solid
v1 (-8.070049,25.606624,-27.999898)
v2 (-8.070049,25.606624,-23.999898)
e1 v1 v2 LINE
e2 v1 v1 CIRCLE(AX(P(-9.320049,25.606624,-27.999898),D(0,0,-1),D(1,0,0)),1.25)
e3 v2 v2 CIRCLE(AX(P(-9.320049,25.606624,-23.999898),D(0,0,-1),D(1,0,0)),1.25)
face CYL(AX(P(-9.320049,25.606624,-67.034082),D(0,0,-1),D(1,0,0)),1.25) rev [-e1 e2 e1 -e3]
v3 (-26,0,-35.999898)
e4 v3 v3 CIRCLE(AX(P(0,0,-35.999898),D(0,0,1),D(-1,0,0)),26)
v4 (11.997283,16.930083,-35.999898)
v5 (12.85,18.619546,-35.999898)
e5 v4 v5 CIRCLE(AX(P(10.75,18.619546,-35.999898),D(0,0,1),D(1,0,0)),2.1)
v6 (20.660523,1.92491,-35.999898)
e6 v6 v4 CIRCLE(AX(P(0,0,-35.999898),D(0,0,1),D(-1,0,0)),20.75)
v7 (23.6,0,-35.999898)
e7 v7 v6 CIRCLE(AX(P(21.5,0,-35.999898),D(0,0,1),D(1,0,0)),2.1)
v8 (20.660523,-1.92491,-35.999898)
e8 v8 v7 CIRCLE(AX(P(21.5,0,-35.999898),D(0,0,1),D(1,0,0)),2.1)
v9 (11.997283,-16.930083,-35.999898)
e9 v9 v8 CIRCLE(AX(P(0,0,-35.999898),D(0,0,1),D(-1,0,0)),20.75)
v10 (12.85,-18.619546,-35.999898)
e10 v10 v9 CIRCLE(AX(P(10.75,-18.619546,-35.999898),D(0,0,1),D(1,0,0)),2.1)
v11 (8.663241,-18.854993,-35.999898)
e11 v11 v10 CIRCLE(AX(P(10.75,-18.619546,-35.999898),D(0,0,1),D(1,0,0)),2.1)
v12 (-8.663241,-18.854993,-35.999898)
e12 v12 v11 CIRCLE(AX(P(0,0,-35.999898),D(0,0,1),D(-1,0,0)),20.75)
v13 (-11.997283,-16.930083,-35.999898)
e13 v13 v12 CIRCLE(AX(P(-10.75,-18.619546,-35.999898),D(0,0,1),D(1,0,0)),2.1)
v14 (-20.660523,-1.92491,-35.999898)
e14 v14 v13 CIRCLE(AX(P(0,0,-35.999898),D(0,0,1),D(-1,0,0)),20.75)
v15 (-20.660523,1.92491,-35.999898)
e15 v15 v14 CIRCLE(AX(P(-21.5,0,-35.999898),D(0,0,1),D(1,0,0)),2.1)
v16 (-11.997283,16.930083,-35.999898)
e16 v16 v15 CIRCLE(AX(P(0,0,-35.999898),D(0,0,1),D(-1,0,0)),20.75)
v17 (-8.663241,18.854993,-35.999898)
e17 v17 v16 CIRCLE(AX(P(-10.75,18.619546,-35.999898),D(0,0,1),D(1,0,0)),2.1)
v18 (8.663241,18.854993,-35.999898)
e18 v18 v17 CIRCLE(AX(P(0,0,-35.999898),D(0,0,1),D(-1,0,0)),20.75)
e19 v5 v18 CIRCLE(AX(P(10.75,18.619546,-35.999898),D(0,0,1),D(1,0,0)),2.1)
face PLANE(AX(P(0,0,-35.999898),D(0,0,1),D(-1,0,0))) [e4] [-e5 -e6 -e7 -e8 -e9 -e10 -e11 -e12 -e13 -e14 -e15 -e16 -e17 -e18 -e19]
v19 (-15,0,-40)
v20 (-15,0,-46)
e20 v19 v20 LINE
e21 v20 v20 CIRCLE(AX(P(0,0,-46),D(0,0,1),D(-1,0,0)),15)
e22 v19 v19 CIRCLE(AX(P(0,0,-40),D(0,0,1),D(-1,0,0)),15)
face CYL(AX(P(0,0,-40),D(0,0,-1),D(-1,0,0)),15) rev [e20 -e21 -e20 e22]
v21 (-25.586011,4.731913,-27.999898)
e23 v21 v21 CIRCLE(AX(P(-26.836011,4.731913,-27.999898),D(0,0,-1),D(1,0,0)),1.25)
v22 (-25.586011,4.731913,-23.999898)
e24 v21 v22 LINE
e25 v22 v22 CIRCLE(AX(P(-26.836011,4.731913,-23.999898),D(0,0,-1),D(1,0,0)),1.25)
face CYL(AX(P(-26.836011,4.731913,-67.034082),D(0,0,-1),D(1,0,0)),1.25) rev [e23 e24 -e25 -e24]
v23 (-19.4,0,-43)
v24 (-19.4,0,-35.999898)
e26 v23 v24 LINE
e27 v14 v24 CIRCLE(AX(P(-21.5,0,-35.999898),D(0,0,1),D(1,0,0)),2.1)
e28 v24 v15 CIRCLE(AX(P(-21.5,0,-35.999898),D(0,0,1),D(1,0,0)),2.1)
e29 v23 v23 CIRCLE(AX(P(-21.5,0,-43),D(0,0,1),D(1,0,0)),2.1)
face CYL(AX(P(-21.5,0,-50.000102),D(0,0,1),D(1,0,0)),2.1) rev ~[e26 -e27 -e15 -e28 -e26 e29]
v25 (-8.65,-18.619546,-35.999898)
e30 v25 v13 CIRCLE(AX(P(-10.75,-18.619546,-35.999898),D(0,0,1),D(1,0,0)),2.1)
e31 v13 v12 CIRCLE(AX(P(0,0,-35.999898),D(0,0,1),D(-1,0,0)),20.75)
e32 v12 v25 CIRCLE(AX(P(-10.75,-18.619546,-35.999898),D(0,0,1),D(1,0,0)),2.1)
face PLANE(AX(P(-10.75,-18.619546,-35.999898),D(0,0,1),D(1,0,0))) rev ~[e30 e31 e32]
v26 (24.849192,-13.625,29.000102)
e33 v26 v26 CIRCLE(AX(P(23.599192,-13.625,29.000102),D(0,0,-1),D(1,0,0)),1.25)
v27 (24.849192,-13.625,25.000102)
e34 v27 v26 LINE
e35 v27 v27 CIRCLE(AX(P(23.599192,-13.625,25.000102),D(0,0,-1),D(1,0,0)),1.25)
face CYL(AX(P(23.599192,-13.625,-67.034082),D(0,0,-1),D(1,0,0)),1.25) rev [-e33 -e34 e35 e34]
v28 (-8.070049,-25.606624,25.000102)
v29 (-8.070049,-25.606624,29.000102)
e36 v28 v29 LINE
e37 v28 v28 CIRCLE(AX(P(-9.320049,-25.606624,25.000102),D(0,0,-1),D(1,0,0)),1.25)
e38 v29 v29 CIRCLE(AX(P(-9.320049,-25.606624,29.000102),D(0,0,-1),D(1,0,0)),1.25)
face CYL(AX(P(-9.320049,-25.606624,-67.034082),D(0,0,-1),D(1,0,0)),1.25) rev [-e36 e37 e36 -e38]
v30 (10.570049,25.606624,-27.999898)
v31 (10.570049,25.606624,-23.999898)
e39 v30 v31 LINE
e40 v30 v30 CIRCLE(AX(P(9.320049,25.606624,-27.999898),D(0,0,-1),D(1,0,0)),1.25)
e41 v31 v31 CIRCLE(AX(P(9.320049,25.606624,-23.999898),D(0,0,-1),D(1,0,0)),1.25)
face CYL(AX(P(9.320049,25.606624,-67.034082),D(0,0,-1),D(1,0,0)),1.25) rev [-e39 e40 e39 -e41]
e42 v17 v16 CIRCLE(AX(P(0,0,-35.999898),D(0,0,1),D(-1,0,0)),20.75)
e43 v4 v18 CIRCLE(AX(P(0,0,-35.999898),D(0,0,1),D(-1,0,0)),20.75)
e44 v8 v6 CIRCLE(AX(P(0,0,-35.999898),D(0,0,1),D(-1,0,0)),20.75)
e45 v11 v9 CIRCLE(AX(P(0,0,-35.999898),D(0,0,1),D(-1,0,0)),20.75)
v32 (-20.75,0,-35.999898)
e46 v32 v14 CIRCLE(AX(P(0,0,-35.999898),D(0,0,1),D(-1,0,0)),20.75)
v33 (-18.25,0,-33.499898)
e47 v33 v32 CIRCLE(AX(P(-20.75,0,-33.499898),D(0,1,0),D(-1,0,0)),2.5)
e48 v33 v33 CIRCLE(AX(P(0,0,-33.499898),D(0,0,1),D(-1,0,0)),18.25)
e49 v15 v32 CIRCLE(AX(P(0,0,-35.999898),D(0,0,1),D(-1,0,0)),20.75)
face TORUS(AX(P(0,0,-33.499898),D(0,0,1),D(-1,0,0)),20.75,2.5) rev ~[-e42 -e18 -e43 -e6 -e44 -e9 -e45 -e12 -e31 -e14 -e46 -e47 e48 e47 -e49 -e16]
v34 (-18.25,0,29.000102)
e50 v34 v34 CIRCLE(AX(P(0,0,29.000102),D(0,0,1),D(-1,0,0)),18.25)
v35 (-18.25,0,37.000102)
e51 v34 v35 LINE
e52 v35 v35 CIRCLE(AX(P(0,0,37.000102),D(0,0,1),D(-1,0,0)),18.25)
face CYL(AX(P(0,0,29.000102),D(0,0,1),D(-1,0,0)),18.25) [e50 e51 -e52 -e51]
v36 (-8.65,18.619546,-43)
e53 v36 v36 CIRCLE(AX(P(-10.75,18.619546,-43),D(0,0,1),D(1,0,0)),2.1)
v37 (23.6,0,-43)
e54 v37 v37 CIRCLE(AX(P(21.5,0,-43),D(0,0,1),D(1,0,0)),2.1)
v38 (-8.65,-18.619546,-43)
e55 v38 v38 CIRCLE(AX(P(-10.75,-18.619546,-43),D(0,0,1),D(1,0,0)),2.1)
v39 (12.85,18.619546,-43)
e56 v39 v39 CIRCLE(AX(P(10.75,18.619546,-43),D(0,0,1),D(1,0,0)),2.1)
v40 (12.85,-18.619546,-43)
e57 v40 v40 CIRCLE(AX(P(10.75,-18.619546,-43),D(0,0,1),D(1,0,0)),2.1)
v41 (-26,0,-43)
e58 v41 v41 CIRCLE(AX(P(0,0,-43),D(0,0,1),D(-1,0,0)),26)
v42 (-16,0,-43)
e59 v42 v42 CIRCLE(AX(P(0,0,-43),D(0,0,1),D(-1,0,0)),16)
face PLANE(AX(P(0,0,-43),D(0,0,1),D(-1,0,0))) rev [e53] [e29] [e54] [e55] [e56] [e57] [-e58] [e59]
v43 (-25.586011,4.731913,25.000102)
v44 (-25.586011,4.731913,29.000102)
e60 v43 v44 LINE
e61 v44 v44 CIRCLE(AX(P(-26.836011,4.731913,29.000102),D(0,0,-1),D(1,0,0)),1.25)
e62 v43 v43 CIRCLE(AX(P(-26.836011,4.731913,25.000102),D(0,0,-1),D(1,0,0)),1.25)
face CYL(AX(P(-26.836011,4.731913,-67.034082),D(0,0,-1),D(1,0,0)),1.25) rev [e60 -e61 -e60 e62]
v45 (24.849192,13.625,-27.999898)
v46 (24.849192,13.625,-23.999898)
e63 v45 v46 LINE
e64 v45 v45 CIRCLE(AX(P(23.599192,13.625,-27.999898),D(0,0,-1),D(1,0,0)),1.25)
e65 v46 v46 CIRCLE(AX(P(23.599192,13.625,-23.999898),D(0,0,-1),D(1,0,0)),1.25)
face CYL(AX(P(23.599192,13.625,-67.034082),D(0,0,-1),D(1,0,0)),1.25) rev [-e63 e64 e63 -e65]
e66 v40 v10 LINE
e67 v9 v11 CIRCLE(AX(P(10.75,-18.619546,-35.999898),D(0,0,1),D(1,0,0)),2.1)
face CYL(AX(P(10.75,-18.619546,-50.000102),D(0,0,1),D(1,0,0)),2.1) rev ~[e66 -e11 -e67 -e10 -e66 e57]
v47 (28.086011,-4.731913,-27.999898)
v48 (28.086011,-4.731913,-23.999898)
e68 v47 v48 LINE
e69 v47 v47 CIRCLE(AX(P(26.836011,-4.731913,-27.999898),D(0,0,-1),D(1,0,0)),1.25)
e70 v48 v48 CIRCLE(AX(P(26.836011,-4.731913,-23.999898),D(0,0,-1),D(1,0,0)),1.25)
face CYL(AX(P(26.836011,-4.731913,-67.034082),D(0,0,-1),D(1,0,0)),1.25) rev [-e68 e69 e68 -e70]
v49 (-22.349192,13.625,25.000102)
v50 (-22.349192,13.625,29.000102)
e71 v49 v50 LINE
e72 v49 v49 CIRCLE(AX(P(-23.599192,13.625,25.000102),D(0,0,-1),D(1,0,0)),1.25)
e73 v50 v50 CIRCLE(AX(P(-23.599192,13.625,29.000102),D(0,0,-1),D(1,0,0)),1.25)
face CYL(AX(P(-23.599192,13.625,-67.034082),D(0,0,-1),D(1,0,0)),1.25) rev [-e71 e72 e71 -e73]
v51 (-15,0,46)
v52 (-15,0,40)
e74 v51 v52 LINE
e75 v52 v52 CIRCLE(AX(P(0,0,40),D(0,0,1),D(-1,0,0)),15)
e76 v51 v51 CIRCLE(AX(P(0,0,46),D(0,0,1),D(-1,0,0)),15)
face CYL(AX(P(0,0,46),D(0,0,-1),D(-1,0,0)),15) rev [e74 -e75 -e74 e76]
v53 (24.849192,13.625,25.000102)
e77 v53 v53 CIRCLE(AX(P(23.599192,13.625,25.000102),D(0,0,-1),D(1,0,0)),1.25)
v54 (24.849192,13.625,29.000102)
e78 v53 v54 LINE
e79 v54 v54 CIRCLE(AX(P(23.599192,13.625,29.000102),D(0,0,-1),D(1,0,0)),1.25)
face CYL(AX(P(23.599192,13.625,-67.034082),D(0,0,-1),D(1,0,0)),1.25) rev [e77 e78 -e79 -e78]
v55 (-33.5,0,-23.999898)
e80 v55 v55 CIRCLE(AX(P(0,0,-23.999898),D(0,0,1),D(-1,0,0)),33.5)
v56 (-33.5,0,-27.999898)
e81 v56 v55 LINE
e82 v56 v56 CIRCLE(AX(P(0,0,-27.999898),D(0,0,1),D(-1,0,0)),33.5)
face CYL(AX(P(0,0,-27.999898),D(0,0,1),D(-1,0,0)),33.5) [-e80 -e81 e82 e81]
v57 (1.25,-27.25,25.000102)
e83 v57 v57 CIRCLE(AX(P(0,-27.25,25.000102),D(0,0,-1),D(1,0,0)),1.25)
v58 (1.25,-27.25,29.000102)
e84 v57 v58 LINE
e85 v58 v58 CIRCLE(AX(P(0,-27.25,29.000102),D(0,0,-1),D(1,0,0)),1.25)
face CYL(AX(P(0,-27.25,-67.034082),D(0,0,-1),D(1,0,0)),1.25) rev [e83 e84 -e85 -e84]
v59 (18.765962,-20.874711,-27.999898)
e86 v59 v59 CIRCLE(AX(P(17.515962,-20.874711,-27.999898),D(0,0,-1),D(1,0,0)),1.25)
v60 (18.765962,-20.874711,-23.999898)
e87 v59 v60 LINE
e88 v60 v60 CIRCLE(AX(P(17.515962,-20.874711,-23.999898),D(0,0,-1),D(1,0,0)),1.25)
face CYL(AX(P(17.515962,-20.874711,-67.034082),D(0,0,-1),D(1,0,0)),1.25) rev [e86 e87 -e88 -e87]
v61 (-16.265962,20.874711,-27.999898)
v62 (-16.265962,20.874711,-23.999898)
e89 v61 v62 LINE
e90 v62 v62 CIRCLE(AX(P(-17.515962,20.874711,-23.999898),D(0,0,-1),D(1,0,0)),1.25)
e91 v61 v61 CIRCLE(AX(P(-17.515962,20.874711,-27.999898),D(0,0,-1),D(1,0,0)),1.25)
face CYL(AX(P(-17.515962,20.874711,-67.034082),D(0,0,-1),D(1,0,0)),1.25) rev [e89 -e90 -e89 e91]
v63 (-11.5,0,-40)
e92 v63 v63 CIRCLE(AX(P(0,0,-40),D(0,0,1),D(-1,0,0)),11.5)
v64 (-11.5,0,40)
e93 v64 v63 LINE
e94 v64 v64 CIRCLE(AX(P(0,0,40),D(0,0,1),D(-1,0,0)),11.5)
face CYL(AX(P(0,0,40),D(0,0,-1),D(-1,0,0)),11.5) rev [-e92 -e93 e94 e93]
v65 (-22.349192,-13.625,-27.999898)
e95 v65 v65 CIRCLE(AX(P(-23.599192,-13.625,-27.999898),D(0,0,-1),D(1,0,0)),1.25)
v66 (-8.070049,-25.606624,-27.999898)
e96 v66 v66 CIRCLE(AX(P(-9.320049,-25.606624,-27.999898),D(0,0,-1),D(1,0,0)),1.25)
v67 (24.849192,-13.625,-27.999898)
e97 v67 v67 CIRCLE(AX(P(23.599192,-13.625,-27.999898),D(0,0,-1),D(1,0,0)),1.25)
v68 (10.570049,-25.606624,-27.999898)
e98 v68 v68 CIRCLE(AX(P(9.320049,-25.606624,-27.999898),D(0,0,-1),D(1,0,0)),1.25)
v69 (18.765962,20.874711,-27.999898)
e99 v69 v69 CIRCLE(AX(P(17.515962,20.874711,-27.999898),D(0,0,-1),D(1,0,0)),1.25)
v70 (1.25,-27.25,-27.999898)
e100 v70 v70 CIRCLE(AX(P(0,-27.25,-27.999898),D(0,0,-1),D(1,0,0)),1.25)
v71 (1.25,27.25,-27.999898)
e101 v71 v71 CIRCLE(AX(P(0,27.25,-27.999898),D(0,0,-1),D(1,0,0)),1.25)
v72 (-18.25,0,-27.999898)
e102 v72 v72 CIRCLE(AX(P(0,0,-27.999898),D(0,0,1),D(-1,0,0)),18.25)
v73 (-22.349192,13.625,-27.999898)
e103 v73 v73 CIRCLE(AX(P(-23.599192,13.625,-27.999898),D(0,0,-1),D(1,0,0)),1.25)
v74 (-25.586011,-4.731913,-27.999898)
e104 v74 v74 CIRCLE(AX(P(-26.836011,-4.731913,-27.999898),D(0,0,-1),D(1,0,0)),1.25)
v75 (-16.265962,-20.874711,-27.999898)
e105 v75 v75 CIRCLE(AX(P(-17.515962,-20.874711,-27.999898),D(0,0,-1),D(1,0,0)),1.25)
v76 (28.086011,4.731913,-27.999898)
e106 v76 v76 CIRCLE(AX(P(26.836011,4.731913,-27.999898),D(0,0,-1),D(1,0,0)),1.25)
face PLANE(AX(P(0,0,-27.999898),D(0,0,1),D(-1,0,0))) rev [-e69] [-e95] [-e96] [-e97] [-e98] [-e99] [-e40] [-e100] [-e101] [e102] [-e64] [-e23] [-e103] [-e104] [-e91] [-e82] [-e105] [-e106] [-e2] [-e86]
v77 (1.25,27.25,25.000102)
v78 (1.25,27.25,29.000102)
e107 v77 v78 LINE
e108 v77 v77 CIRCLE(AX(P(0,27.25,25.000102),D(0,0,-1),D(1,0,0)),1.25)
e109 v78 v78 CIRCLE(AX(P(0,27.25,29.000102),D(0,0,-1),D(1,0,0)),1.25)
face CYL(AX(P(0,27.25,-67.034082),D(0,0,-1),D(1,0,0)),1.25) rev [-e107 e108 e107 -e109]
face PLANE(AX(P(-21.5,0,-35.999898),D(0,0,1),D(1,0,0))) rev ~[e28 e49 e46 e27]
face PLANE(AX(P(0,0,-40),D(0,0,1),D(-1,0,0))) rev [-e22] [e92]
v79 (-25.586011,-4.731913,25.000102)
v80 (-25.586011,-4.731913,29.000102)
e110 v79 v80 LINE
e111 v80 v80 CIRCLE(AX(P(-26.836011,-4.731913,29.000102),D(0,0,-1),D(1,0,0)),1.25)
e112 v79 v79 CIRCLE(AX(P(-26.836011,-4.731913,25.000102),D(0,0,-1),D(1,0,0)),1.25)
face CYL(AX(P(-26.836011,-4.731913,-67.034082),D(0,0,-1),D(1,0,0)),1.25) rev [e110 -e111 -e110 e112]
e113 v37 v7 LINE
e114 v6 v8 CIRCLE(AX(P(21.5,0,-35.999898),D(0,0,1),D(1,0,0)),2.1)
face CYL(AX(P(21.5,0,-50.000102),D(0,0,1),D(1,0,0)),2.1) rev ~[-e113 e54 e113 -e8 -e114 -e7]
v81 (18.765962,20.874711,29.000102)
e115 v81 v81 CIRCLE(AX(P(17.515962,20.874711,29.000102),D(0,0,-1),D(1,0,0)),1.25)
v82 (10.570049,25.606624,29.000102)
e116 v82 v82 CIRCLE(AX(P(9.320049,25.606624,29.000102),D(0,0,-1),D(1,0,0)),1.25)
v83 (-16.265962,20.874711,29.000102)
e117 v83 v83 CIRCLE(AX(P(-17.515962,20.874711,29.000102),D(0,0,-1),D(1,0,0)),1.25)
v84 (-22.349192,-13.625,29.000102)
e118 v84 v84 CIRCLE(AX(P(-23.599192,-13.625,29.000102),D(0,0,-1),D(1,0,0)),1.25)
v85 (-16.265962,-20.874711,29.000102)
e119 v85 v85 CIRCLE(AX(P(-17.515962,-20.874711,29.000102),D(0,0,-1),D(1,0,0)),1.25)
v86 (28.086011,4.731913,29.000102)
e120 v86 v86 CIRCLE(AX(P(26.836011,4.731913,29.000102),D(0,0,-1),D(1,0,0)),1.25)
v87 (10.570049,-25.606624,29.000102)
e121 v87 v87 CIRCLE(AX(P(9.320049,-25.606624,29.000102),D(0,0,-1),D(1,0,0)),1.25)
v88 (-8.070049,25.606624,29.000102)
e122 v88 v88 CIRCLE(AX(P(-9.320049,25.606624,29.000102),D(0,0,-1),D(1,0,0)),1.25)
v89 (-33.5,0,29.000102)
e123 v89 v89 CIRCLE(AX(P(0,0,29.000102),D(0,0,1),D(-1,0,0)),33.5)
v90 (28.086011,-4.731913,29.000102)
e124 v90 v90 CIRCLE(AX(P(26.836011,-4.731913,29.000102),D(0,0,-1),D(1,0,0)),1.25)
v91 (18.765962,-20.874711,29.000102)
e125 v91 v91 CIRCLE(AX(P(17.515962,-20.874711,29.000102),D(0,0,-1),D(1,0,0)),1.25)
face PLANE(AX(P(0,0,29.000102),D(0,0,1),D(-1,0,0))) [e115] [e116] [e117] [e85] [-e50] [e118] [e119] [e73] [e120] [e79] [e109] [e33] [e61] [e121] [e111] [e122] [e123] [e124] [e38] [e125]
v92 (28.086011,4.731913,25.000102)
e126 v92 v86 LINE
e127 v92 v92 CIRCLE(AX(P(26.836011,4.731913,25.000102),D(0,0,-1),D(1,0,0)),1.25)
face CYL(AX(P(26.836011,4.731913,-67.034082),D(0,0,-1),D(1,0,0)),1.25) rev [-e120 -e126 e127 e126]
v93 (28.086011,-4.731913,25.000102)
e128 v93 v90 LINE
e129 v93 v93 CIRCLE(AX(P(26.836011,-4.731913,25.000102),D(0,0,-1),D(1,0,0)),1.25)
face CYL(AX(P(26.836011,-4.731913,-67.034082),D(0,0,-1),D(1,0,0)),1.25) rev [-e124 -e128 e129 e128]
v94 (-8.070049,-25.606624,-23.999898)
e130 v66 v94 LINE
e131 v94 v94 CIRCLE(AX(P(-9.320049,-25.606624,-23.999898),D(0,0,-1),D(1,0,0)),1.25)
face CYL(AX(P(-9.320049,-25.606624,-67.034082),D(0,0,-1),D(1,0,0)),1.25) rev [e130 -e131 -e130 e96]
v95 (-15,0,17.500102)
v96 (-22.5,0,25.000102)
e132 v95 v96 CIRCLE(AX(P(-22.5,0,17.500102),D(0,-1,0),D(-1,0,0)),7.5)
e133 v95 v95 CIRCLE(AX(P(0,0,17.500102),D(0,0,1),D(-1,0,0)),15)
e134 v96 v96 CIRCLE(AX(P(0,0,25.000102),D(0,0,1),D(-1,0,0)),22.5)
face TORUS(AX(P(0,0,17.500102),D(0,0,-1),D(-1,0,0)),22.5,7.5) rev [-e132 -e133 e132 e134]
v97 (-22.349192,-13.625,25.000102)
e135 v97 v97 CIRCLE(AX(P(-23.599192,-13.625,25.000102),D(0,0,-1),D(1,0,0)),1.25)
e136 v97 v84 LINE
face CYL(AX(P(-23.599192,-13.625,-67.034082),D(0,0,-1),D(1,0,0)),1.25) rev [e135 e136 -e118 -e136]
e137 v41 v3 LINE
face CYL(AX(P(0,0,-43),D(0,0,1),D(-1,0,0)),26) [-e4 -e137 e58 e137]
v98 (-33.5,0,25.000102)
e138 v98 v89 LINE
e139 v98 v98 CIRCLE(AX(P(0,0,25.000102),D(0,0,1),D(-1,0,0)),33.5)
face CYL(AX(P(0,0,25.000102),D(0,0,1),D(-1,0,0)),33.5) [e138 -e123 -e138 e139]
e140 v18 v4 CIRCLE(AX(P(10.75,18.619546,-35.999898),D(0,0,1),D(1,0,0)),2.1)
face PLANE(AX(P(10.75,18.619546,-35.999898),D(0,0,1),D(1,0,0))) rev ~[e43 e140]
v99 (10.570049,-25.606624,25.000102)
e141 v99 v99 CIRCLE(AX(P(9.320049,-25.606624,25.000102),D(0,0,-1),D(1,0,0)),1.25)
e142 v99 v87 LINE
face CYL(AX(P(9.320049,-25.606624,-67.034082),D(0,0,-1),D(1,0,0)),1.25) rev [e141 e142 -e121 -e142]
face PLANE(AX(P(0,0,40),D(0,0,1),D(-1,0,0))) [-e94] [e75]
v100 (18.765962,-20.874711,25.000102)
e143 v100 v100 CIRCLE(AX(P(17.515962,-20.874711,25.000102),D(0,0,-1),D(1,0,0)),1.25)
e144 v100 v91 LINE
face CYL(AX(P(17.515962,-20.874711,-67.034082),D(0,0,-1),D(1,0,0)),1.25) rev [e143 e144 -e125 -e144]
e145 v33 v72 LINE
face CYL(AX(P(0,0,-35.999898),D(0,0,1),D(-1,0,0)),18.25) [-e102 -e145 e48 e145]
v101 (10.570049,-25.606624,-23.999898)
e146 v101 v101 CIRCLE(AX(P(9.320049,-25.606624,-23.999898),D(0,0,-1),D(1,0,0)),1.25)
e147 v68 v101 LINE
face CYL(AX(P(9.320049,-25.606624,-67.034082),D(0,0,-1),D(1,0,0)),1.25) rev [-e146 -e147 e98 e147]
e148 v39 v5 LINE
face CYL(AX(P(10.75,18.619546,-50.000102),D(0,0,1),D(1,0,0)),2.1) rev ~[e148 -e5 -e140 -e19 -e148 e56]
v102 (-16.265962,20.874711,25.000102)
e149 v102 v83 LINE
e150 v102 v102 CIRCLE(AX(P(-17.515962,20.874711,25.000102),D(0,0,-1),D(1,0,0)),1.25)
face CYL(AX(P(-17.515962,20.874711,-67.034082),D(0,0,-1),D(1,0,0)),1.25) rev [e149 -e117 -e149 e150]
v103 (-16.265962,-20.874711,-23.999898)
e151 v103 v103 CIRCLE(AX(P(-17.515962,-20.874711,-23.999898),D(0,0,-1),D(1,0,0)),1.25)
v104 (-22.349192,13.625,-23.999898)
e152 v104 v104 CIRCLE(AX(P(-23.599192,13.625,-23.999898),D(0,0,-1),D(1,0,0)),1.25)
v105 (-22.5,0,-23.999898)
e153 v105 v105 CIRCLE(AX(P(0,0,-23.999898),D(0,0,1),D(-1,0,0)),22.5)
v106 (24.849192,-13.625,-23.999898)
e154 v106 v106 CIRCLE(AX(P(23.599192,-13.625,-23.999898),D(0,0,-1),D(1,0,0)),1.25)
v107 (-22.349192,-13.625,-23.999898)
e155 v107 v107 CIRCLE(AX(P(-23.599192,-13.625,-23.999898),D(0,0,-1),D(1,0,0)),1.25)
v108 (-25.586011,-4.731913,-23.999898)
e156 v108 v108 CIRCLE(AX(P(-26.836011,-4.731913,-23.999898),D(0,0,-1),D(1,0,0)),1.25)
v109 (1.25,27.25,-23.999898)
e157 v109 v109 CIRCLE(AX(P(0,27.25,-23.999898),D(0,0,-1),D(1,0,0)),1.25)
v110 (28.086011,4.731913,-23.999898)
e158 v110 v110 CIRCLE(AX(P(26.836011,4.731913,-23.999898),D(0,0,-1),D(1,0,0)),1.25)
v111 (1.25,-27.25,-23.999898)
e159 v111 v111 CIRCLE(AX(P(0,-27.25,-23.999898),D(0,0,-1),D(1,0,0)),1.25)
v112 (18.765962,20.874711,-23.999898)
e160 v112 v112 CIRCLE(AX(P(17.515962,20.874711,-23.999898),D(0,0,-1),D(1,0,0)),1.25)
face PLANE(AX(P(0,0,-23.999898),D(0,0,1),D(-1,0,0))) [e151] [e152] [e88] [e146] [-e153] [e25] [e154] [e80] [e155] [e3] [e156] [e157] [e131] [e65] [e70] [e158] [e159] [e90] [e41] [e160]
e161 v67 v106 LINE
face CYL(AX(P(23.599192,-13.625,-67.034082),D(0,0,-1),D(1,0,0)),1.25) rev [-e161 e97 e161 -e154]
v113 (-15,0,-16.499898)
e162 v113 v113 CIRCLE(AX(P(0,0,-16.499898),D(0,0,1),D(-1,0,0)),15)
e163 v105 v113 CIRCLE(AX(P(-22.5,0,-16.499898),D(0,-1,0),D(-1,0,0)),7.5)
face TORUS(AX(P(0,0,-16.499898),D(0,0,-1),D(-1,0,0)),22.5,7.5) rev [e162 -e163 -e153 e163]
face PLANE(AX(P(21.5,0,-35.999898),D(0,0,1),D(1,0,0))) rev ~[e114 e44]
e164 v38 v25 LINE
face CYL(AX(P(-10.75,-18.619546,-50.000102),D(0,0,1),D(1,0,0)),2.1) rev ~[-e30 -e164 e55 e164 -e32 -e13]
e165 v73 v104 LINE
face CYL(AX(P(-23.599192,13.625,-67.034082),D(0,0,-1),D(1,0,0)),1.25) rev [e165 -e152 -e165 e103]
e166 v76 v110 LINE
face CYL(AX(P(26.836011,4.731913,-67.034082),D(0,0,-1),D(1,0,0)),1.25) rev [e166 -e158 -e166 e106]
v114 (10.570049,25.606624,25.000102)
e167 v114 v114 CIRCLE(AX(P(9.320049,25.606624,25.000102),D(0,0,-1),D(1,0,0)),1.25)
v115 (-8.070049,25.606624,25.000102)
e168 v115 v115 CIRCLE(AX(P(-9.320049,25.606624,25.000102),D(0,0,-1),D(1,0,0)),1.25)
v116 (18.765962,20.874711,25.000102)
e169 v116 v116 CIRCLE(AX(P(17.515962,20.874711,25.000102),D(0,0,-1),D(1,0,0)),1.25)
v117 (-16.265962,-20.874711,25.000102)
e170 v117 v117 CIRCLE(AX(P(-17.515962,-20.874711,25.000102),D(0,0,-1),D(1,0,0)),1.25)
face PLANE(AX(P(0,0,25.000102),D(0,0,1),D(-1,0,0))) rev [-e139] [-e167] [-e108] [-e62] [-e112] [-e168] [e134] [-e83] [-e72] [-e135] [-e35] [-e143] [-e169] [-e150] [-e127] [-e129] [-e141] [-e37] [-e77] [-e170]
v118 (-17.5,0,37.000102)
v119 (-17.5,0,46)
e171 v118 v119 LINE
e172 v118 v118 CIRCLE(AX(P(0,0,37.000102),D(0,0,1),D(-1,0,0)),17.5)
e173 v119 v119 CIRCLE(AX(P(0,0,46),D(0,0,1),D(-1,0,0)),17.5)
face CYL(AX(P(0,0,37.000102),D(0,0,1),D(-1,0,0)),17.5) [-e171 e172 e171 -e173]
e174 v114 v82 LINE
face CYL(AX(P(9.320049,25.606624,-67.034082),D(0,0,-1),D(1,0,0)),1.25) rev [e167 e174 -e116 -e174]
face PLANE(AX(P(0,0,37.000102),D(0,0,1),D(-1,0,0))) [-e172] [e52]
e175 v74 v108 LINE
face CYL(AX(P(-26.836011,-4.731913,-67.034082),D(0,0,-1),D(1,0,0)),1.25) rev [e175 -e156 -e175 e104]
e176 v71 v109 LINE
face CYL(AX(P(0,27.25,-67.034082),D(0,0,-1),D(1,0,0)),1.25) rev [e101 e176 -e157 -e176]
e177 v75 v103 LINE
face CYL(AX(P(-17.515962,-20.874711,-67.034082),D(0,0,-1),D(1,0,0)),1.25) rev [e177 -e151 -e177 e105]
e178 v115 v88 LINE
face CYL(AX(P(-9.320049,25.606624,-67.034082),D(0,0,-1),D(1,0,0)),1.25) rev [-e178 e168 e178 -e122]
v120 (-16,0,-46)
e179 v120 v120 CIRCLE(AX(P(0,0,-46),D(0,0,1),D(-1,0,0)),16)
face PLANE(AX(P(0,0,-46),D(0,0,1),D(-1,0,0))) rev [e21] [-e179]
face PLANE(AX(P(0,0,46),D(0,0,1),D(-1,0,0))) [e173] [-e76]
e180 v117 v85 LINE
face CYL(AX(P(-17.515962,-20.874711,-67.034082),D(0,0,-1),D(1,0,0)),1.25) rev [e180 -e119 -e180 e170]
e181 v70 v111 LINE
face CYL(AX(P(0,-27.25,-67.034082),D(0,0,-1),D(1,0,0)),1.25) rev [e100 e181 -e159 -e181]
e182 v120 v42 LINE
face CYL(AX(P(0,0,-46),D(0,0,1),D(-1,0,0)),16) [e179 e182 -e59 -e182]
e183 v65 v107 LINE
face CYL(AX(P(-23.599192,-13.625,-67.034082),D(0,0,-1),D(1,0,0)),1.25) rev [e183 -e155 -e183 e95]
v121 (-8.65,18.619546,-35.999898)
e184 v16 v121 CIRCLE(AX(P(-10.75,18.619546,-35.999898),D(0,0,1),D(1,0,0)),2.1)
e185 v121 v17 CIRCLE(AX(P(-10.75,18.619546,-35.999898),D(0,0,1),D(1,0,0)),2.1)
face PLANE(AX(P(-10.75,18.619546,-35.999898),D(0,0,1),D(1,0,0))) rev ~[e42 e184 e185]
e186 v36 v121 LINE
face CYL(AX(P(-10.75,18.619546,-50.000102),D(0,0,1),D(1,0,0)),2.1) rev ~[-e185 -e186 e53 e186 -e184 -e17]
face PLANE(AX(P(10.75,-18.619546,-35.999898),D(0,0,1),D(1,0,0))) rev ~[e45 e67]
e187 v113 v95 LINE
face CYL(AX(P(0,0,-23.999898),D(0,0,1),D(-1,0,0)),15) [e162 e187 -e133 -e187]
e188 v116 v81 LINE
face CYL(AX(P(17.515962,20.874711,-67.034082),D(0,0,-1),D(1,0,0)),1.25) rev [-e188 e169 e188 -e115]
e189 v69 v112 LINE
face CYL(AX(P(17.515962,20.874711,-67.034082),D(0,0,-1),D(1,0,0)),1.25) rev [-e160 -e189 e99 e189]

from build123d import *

# Parameters (mm, degrees)
FILLET1_R                 = 7.5
FILLET2_R                 = 2.5
CUT_EXTRUDE1_DEPTH        = 67.034082109
CUT_EXTRUDE1_DEPTH_BACK   = 67.034082109
SKETCH3_R                 = 1.25
M5X0_8_TAPPED_HOLE1_D     = 4.2
M5X0_8_TAPPED_HOLE1_DEPTH = 7.000101775


with BuildPart() as part:
    # Sketch2 → Revolve1 (revolve)
    with BuildSketch(Plane(origin=(0, 0, 0), x_dir=(1, 0, 0), z_dir=(0, 1, 0)), mode=Mode.PRIVATE) as revolve1_sk:
        Polygon((15, 46), (16, 46), (16, 43), (26, 43), (26, 35.999898225), (18.25, 35.999898225), (18.25, 27.999898225), (33.5, 27.999898225), (33.5, 23.999898225), (15, 23.999898225), (15, -25.000101775), (33.5, -25.000101775), (33.5, -29.000101775), (18.25, -29.000101775), (18.25, -37.000101775), (17.5, -37.000101775), (17.5, -46), (15, -46), (15, -40), (11.5, -40), (11.5, 40), (15, 40), align=None)
    revolve(revolve1_sk.sketch.rotate(Axis((0, 0, -29.097498156), (0, 0, 1)), 180), axis=Axis((0, 0, -29.097498156), (0, 0, 1)))

    # Fillet1
    fillet1_edges = [part.edges().sort_by_distance(p)[0] for p in [
        (15, 0, 25.000101775),
        (15, 0, -23.999898225),
    ]]
    fillet(fillet1_edges, radius=FILLET1_R)

    # Fillet2
    fillet2_edges = [part.edges().sort_by_distance(p)[0] for p in [
        (18.25, 0, -35.999898225),
    ]]
    fillet(fillet2_edges, radius=FILLET2_R)

    # Sketch3 → Cut-Extrude1 (cut, two sides: drawn at the far end of the back side and taken through both)
    with BuildSketch(Plane.XY.offset(-CUT_EXTRUDE1_DEPTH_BACK)):
        with Locations((0, 27.25)):
            Circle(SKETCH3_R)
        with Locations((9.320048906, 25.606623916)):
            Circle(SKETCH3_R)
        with Locations((17.515962364, 20.874711075)):
            Circle(SKETCH3_R)
        with Locations((23.599192253, 13.625)):
            Circle(SKETCH3_R)
        with Locations((26.83601127, 4.731912841)):
            Circle(SKETCH3_R)
        with Locations((26.83601127, -4.731912841)):
            Circle(SKETCH3_R)
        with Locations((23.599192253, -13.625)):
            Circle(SKETCH3_R)
        with Locations((17.515962364, -20.874711075)):
            Circle(SKETCH3_R)
        with Locations((9.320048906, -25.606623916)):
            Circle(SKETCH3_R)
        with Locations((0, -27.25)):
            Circle(SKETCH3_R)
        with Locations((-9.320048906, -25.606623916)):
            Circle(SKETCH3_R)
        with Locations((-17.515962364, -20.874711075)):
            Circle(SKETCH3_R)
        with Locations((-23.599192253, -13.625)):
            Circle(SKETCH3_R)
        with Locations((-26.83601127, -4.731912841)):
            Circle(SKETCH3_R)
        with Locations((-26.83601127, 4.731912841)):
            Circle(SKETCH3_R)
        with Locations((-23.599192253, 13.625)):
            Circle(SKETCH3_R)
        with Locations((-17.515962364, 20.874711075)):
            Circle(SKETCH3_R)
        with Locations((-9.320048906, 25.606623916)):
            Circle(SKETCH3_R)
    extrude(amount=CUT_EXTRUDE1_DEPTH + CUT_EXTRUDE1_DEPTH_BACK, mode=Mode.SUBTRACT)

    # M5x0.8 Tapped Hole1
    with Locations(Plane(origin=(0, 0, -43), x_dir=(-1, 0, 0), z_dir=(0, 0, -1))):
        with Locations((-10.75, 18.619546181), (10.75, 18.619546181), (21.5, 0), (10.75, -18.619546181), (-10.75, -18.619546181), (-21.5, 0)):
            Hole(M5X0_8_TAPPED_HOLE1_D / 2, depth=M5X0_8_TAPPED_HOLE1_DEPTH)


solid = part.part
